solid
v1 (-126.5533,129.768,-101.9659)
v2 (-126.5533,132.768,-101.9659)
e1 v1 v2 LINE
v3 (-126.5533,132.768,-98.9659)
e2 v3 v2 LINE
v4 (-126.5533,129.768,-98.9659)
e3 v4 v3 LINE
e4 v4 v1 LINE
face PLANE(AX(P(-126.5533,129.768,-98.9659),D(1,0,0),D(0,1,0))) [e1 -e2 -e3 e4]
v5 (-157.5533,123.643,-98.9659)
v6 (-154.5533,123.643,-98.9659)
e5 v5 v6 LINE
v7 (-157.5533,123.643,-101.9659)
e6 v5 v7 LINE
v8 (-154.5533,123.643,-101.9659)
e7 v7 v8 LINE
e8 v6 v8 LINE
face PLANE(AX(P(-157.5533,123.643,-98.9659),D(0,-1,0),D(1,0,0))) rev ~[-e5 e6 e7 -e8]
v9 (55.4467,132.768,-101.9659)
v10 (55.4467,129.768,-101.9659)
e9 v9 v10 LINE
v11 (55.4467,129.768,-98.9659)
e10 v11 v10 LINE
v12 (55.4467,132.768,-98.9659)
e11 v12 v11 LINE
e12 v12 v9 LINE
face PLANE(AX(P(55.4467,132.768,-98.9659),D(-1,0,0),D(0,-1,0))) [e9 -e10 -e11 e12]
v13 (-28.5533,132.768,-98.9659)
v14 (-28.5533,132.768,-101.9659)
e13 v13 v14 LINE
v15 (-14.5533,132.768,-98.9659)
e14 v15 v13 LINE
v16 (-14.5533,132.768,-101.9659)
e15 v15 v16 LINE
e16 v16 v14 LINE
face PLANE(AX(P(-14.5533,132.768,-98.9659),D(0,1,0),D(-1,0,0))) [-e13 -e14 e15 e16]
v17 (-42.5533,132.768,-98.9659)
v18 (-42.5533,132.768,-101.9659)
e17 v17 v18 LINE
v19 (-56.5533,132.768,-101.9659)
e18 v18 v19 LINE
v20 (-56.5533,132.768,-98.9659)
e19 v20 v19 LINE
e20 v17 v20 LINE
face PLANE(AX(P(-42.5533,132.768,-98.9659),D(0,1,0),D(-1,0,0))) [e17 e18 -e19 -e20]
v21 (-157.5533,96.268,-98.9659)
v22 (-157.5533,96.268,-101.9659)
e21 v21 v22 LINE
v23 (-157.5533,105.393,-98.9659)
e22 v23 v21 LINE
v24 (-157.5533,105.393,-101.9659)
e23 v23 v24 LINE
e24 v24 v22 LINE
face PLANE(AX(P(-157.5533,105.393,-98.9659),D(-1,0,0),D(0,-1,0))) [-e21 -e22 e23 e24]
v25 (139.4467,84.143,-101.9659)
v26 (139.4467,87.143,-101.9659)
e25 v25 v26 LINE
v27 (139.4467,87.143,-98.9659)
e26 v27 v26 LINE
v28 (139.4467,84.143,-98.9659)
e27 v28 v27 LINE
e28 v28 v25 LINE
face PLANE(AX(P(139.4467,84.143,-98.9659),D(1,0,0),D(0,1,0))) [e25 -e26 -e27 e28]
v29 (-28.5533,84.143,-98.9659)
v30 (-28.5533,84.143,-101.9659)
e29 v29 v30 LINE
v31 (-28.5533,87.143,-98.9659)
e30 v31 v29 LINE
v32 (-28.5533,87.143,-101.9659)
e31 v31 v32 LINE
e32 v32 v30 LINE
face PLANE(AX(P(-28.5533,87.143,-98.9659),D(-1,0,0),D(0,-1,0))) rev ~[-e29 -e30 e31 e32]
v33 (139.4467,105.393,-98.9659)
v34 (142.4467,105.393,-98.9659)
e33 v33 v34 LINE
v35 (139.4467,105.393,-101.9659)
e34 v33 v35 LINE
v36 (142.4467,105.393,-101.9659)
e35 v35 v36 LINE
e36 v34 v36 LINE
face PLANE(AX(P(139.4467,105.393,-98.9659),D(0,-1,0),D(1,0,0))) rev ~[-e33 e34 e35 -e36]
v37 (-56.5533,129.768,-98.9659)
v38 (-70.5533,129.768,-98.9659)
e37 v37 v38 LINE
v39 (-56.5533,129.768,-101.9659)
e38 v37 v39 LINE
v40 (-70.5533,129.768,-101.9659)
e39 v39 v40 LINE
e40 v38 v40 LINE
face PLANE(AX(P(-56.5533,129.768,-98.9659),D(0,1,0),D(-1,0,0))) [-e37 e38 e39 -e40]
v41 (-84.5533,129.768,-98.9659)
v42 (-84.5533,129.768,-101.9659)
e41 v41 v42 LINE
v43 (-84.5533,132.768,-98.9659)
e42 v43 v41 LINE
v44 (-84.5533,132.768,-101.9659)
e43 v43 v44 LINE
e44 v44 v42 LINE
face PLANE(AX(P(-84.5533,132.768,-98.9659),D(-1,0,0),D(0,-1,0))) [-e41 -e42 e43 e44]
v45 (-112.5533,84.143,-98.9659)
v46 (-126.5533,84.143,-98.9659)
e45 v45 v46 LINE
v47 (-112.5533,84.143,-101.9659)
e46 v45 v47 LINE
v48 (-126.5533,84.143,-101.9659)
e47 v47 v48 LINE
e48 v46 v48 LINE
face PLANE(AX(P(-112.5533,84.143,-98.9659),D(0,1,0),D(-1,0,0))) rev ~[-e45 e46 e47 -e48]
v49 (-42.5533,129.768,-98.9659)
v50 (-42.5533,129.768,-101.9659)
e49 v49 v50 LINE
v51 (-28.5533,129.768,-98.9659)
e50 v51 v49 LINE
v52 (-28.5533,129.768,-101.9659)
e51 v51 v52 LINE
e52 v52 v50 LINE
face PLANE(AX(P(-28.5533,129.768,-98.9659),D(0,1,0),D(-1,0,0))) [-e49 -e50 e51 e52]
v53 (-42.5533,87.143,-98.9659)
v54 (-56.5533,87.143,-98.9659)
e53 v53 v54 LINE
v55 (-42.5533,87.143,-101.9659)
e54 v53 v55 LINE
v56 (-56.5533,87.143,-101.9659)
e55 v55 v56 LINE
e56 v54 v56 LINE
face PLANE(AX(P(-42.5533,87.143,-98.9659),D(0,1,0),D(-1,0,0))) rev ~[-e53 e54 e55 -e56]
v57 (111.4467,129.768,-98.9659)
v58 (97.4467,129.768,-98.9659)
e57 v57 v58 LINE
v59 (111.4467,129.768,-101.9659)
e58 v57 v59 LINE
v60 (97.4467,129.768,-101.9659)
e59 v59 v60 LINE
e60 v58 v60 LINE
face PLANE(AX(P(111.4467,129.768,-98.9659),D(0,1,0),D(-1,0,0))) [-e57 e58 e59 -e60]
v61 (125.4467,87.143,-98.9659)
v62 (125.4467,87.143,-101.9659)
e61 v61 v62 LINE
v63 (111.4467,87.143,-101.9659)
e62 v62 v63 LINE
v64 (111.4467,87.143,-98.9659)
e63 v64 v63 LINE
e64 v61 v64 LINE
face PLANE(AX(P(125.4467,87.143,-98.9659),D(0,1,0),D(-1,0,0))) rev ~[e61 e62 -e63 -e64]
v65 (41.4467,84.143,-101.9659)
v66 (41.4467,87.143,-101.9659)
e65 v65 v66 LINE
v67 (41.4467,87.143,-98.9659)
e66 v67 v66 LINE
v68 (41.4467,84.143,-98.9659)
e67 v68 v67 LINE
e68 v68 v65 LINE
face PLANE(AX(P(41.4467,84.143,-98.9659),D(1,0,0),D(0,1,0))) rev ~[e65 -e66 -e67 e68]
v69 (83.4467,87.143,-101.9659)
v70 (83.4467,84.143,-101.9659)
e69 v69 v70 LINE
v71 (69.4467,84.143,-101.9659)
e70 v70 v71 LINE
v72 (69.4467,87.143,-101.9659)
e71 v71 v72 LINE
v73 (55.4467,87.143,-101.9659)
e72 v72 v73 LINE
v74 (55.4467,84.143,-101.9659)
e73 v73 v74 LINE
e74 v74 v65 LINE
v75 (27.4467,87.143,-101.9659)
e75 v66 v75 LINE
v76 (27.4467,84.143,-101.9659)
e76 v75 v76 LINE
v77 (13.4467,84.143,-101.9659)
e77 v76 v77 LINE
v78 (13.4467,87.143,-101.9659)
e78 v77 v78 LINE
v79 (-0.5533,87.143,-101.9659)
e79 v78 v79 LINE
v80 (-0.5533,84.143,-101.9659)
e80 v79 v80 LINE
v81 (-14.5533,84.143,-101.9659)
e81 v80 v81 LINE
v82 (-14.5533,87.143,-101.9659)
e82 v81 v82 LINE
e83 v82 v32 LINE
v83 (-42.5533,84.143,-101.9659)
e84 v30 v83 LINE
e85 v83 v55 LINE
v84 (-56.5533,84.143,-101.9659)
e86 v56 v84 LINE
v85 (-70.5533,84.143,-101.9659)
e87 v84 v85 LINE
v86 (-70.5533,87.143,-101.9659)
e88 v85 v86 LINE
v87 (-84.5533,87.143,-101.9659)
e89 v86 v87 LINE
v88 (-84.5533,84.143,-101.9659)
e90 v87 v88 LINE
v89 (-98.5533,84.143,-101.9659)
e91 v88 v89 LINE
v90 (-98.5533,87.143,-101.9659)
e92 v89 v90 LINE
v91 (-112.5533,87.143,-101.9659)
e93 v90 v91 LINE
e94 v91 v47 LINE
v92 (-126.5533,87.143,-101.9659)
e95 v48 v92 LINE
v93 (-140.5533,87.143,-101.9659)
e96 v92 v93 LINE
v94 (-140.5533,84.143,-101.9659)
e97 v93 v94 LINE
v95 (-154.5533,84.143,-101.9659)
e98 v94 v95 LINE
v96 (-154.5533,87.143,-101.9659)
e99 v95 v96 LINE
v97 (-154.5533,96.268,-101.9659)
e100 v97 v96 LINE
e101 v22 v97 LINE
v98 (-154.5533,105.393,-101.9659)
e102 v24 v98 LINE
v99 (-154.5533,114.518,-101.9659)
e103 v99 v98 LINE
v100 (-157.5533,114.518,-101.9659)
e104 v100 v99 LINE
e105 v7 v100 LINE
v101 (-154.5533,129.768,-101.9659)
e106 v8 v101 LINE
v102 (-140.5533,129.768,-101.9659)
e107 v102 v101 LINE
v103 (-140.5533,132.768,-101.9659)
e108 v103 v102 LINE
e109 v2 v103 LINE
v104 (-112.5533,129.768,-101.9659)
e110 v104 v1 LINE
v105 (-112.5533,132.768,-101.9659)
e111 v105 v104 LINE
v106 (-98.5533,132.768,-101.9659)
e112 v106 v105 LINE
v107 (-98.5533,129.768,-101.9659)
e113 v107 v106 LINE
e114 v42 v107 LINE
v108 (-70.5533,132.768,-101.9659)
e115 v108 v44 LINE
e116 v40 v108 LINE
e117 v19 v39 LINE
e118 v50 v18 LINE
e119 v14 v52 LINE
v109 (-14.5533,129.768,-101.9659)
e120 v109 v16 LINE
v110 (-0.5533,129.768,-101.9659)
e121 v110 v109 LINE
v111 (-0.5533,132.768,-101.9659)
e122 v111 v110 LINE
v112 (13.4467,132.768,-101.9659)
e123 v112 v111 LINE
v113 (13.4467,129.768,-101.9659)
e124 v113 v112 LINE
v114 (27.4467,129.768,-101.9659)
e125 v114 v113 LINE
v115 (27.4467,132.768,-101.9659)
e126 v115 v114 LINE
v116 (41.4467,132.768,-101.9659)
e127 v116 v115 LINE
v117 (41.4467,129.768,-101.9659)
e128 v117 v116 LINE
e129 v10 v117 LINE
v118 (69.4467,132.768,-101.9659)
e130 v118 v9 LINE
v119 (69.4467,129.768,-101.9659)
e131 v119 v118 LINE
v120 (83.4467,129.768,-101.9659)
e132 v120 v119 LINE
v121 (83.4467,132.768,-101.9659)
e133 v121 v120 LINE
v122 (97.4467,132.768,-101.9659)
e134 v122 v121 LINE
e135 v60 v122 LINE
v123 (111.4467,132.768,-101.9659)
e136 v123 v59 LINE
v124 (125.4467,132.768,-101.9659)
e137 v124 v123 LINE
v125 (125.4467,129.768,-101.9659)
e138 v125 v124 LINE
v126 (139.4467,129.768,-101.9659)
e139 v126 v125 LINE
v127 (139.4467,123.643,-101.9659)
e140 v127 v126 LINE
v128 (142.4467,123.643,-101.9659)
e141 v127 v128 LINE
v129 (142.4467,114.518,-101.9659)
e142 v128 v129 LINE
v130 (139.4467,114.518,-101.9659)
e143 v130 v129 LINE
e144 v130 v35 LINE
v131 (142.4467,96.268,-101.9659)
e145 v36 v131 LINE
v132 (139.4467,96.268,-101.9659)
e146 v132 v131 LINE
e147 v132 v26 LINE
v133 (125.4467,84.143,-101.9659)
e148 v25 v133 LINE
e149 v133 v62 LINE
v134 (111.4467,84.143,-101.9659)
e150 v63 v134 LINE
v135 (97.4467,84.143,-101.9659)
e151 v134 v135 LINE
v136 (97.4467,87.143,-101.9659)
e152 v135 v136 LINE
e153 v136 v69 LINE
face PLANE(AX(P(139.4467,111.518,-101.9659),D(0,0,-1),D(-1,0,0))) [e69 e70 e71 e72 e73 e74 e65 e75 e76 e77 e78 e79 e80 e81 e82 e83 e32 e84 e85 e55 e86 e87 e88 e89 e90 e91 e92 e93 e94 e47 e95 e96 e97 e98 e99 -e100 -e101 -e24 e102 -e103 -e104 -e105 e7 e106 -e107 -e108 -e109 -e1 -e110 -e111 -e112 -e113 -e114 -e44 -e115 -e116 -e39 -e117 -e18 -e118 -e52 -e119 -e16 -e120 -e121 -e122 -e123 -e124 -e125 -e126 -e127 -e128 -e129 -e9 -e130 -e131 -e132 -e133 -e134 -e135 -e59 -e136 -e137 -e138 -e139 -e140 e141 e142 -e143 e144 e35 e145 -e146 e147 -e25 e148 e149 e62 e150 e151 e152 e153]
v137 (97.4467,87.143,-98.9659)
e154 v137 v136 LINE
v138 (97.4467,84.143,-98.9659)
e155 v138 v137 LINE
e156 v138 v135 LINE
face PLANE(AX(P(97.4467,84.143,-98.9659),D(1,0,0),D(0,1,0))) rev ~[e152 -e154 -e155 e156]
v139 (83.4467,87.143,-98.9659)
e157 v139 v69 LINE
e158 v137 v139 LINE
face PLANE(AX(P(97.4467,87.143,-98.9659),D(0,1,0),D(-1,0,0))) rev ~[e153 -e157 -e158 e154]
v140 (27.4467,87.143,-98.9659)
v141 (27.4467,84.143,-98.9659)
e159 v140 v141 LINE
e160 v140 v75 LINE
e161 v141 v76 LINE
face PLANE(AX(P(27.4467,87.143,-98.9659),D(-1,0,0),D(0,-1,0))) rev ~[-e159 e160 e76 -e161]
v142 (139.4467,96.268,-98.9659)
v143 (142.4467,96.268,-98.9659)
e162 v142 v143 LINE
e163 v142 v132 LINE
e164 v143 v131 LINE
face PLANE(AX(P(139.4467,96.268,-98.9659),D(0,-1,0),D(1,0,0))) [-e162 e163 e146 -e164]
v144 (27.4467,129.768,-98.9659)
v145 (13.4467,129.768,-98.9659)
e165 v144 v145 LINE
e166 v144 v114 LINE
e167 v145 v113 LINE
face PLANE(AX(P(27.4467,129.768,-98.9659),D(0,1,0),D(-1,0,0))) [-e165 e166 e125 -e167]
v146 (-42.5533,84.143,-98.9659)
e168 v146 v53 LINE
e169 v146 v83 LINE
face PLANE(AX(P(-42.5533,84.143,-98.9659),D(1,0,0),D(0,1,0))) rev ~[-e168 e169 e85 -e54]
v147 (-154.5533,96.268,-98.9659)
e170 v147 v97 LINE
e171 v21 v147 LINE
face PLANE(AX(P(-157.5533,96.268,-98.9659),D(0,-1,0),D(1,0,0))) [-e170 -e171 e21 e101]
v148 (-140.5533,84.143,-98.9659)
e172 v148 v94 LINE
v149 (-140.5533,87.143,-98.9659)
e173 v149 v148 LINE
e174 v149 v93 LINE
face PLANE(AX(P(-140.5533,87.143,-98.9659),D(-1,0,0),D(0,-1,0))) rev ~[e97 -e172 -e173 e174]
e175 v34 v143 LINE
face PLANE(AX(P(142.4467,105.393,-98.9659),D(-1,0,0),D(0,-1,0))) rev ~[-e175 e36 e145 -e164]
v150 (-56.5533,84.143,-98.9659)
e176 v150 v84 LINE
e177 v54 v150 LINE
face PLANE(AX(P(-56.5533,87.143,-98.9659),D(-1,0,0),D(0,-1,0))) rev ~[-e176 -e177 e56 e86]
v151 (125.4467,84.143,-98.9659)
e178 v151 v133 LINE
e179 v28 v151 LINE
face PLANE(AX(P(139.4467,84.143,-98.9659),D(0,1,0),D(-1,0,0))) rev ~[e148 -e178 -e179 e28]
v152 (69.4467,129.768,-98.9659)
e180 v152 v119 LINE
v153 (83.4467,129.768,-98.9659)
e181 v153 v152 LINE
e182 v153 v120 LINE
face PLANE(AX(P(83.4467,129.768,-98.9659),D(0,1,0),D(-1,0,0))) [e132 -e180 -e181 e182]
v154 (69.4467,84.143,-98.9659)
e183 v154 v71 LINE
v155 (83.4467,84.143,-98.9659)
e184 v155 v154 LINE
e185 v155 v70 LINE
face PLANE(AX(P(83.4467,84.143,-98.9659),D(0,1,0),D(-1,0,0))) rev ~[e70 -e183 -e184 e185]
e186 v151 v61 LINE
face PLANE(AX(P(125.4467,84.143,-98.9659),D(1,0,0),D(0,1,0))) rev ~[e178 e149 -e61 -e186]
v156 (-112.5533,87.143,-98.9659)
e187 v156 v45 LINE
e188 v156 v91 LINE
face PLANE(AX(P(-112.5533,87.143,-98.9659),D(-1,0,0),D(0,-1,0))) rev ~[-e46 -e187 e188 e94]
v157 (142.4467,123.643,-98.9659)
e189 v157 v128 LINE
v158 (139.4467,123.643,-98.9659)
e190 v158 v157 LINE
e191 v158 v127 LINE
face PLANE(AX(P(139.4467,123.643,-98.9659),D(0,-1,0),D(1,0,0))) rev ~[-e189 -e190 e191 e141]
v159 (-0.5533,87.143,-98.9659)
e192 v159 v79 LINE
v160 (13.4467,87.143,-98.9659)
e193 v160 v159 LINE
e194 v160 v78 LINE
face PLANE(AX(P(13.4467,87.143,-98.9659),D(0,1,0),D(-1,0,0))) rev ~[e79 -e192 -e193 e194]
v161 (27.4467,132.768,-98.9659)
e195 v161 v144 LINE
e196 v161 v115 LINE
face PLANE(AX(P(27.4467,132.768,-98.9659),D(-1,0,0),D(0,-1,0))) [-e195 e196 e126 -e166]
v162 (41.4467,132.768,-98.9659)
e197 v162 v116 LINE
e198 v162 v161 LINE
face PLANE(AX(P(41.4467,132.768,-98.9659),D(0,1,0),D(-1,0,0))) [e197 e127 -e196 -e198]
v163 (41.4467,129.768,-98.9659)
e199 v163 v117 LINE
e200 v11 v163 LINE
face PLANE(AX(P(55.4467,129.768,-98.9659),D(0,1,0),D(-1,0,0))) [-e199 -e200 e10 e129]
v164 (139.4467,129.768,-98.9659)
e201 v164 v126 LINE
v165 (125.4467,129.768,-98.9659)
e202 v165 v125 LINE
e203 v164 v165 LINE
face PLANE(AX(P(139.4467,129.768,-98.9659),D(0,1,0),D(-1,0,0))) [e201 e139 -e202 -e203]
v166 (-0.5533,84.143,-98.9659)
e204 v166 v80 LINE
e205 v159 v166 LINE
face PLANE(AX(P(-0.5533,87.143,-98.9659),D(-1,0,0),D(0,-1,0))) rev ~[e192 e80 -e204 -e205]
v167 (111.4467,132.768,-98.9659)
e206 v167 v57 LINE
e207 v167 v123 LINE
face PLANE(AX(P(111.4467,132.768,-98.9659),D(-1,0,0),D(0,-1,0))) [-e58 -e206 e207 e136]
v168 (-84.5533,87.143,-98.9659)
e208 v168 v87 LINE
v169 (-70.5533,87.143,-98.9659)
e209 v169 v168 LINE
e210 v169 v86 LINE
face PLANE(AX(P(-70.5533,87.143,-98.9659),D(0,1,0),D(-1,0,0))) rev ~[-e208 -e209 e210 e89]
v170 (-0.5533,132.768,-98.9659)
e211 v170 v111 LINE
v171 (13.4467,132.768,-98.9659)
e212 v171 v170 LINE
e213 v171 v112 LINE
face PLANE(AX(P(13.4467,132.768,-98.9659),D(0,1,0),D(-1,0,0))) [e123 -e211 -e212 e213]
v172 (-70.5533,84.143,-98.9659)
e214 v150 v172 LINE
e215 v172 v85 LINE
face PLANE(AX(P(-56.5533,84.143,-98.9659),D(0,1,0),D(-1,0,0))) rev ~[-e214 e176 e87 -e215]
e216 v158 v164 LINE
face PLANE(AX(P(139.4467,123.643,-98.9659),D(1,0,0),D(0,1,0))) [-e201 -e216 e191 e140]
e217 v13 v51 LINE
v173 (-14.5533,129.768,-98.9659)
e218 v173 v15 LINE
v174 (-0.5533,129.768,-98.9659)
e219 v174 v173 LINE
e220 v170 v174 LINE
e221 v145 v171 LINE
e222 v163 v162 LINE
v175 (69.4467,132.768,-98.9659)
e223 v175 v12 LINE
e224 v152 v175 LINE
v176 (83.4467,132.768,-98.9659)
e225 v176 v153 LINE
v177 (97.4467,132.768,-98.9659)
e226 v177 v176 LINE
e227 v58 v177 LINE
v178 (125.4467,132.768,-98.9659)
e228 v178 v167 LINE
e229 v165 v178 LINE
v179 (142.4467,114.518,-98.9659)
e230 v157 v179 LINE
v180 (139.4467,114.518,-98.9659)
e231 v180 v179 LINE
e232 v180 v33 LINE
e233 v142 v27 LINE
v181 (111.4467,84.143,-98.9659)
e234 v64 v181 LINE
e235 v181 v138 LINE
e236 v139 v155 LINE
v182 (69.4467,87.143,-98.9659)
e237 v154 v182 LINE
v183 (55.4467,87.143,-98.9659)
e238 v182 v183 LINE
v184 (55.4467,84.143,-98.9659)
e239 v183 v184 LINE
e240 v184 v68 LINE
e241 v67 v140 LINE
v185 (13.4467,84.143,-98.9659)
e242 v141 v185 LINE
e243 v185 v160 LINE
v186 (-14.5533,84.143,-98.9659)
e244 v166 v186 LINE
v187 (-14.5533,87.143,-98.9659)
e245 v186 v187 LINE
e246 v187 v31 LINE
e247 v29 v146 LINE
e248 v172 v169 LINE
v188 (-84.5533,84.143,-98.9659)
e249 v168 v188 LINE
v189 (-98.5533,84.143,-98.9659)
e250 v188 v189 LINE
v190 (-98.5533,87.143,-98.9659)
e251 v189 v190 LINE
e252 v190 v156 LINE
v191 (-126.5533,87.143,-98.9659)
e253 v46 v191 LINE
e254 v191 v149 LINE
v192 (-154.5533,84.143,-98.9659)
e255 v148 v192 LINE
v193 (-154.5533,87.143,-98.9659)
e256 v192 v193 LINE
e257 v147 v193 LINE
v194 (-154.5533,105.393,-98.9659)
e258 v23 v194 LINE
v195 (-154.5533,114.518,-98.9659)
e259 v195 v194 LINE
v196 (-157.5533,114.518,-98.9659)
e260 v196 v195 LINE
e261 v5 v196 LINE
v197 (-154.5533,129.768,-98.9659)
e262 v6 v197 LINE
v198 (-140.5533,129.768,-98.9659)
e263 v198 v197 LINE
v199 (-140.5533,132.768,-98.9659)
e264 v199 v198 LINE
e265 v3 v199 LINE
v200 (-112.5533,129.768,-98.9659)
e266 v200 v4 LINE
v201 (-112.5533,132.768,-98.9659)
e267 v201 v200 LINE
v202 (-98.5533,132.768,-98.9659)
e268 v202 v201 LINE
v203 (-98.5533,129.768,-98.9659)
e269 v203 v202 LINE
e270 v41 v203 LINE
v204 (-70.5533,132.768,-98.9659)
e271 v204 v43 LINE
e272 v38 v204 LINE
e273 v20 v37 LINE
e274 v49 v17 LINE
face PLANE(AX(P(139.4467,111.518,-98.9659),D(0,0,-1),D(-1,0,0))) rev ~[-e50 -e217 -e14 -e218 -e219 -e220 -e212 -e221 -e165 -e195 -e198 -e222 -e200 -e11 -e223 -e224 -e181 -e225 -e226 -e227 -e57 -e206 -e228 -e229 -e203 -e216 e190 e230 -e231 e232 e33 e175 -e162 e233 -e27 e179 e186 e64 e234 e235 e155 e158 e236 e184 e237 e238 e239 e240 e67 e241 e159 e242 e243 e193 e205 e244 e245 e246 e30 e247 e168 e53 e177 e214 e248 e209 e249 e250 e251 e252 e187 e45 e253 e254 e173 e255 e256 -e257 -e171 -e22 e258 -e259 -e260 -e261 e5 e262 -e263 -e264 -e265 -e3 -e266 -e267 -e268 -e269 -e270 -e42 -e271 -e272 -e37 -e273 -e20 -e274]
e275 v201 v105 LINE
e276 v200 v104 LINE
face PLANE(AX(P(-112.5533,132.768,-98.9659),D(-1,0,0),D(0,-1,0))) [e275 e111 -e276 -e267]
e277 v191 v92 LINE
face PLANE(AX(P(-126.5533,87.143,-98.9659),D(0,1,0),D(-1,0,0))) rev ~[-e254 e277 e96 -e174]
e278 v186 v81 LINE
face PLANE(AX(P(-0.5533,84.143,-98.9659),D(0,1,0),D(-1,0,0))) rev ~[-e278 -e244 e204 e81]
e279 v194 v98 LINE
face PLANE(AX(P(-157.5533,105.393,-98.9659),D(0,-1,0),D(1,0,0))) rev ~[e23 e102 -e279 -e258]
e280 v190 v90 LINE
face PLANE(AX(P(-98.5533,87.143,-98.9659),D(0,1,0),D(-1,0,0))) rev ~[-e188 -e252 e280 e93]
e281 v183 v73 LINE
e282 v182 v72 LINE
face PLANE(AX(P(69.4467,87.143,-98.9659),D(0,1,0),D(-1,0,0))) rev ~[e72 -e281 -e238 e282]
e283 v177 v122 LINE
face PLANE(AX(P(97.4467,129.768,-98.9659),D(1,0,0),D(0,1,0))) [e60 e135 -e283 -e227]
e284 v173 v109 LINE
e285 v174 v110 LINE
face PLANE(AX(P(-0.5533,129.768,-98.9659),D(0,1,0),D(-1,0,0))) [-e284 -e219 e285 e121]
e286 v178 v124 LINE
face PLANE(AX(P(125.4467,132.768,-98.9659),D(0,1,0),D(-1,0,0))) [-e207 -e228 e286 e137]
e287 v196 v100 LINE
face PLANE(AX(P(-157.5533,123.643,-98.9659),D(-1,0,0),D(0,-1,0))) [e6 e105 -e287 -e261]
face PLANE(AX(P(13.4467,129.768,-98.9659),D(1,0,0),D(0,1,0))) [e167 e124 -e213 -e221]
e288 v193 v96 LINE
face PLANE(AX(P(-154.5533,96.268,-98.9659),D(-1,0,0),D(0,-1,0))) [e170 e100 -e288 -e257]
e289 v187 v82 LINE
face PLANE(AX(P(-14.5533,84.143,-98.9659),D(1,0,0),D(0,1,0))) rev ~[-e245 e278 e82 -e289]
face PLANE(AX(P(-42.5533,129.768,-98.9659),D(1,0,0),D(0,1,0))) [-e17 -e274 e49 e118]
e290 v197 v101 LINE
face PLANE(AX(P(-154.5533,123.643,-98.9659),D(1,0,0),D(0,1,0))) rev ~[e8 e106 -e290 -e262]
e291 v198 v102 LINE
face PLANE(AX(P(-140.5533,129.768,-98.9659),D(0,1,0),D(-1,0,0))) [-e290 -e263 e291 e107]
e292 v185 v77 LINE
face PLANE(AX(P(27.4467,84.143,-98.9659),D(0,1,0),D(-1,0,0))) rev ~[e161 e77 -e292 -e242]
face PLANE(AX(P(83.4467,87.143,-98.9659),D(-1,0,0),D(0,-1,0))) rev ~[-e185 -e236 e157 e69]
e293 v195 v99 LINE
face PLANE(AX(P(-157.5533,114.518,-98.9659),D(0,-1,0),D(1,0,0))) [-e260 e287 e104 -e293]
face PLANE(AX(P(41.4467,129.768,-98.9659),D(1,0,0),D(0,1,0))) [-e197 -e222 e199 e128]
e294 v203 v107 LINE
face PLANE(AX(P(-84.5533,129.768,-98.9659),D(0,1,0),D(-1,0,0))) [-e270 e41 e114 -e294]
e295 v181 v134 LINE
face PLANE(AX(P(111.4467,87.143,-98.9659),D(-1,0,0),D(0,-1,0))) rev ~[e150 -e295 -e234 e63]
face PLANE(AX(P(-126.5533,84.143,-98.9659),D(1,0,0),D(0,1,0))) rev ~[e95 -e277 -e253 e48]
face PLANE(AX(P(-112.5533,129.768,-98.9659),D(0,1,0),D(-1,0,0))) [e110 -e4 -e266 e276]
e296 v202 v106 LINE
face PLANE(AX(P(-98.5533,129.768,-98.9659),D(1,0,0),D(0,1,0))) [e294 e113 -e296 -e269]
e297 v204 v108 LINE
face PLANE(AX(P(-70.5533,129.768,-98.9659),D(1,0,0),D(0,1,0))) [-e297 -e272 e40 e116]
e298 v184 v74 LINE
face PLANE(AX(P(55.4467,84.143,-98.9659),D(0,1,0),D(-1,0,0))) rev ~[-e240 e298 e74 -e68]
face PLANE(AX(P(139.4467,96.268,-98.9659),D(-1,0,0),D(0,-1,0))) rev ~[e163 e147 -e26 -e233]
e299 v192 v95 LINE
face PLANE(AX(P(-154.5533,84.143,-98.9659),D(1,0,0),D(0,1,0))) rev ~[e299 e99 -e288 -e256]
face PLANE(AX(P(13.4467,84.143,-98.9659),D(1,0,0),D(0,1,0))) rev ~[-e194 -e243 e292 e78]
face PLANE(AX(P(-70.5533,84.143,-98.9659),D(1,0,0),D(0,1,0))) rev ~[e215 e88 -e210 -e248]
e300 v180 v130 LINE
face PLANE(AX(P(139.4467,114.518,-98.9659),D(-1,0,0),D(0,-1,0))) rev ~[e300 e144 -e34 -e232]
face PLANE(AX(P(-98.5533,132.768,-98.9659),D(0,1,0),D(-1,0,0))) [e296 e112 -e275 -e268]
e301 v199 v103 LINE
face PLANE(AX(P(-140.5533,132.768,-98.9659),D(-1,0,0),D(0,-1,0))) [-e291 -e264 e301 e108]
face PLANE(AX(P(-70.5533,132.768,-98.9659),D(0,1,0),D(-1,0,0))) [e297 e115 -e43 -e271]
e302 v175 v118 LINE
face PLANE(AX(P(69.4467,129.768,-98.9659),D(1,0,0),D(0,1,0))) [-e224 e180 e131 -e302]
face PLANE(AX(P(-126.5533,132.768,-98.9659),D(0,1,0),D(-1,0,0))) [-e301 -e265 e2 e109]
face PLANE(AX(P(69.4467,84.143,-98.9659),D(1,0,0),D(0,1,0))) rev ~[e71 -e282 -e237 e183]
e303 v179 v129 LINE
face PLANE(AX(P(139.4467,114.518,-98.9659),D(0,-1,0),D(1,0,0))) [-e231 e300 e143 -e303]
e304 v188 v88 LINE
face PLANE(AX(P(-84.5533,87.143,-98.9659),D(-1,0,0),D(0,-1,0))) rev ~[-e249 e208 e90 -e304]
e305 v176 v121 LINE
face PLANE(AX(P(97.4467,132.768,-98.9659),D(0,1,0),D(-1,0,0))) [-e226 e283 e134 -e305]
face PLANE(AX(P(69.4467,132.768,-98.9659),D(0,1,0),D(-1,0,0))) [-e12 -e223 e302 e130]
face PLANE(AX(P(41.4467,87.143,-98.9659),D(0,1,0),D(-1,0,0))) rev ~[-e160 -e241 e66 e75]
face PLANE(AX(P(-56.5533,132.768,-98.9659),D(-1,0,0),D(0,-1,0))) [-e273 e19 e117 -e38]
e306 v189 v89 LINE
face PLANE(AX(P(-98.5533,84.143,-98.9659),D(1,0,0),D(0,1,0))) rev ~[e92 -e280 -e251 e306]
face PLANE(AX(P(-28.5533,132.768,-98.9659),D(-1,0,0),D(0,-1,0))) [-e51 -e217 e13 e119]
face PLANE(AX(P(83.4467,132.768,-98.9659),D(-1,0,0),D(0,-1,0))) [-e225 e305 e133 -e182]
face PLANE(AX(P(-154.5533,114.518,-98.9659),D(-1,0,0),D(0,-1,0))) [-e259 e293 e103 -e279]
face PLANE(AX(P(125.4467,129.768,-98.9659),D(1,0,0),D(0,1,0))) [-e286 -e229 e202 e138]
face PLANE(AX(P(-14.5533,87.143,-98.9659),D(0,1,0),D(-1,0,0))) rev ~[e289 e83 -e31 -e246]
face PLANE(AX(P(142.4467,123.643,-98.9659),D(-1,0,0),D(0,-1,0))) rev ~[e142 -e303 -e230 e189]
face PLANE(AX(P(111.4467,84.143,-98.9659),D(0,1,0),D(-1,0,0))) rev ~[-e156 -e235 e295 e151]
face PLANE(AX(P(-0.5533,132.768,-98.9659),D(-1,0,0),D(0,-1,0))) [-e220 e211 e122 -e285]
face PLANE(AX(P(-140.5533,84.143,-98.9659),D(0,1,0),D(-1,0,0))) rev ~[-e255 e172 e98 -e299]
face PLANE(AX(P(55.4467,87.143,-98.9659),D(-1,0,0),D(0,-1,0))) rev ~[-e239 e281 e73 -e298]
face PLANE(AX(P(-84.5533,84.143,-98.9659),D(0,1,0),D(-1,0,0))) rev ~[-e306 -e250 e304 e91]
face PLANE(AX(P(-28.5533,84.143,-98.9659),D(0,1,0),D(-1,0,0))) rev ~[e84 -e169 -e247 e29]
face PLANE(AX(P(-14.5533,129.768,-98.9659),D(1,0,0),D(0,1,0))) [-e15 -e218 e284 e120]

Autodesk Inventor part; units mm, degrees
ref_plane "YZ Plane" through (0, 0, 0) normal (1, 0, 0) x (0, 1, 0)
ref_plane "XZ Plane" through (0, 0, 0) normal (0, 1, 0) x (-1, 0, 0)
ref_plane "XY Plane" through (0, 0, 0) normal (0, 0, 1) x (1, 0, 0)
ref_plane "Work Plane1" through (139.4467, 111.518, -98.9659) normal (0, 0, -1) x (-1, 0, 0)
sketch "Sketch1" plane through (139.4467, 111.518, -98.9659) normal (0, 0, -1) x (-1, 0, 0)
  line L0 (0, -27.375) -> (14, -27.375)
  line L1 (14, -27.375) -> (14, -24.375)
  line L2 (14, -24.375) -> (28, -24.375)
  line L3 (28, -24.375) -> (28, -27.375)
  line L4 (56, -24.375) -> (56, -27.375)
  line L5 (42, -24.375) -> (56, -24.375)
  line L6 (42, -27.375) -> (42, -24.375)
  line L7 (28, -27.375) -> (42, -27.375)
  line L8 (84, -24.375) -> (84, -27.375)
  line L9 (70, -24.375) -> (84, -24.375)
  line L10 (70, -27.375) -> (70, -24.375)
  line L11 (56, -27.375) -> (70, -27.375)
  line L12 (112, -24.375) -> (112, -27.375)
  line L13 (98, -24.375) -> (112, -24.375)
  line L14 (98, -27.375) -> (98, -24.375)
  line L15 (84, -27.375) -> (98, -27.375)
  line L16 (140, -24.375) -> (140, -27.375)
  line L17 (126, -24.375) -> (140, -24.375)
  line L18 (126, -27.375) -> (126, -24.375)
  line L19 (112, -27.375) -> (126, -27.375)
  line L20 (168, -24.375) -> (168, -27.375)
  line L21 (154, -24.375) -> (168, -24.375)
  line L22 (154, -27.375) -> (154, -24.375)
  line L23 (140, -27.375) -> (154, -27.375)
  line L24 (196, -24.375) -> (196, -27.375)
  line L25 (182, -24.375) -> (196, -24.375)
  line L26 (182, -27.375) -> (182, -24.375)
  line L27 (168, -27.375) -> (182, -27.375)
  line L28 (224, -24.375) -> (224, -27.375)
  line L29 (210, -24.375) -> (224, -24.375)
  line L30 (210, -27.375) -> (210, -24.375)
  line L31 (196, -27.375) -> (210, -27.375)
  line L32 (252, -24.375) -> (252, -27.375)
  line L33 (238, -24.375) -> (252, -24.375)
  line L34 (238, -27.375) -> (238, -24.375)
  line L35 (224, -27.375) -> (238, -27.375)
  line L36 (280, -24.375) -> (280, -27.375)
  line L37 (266, -24.375) -> (280, -24.375)
  line L38 (266, -27.375) -> (266, -24.375)
  line L39 (252, -27.375) -> (266, -27.375)
  line L40 (280, -27.375) -> (294, -27.375)
  line L41 (0, 18.25) -> (14, 18.25)
  line L42 (14, 18.25) -> (14, 21.25)
  line L43 (14, 21.25) -> (28, 21.25)
  line L44 (28, 21.25) -> (28, 18.25)
  line L45 (56, 21.25) -> (56, 18.25)
  line L46 (42, 21.25) -> (56, 21.25)
  line L47 (42, 18.25) -> (42, 21.25)
  line L48 (28, 18.25) -> (42, 18.25)
  line L49 (84, 21.25) -> (84, 18.25)
  line L50 (70, 21.25) -> (84, 21.25)
  line L51 (70, 18.25) -> (70, 21.25)
  line L52 (56, 18.25) -> (70, 18.25)
  line L53 (112, 21.25) -> (112, 18.25)
  line L54 (98, 21.25) -> (112, 21.25)
  line L55 (98, 18.25) -> (98, 21.25)
  line L56 (84, 18.25) -> (98, 18.25)
  line L57 (140, 21.25) -> (140, 18.25)
  line L58 (126, 21.25) -> (140, 21.25)
  line L59 (126, 18.25) -> (126, 21.25)
  line L60 (112, 18.25) -> (126, 18.25)
  line L61 (168, 21.25) -> (168, 18.25)
  line L62 (154, 21.25) -> (168, 21.25)
  line L63 (154, 18.25) -> (154, 21.25)
  line L64 (140, 18.25) -> (154, 18.25)
  line L65 (196, 21.25) -> (196, 18.25)
  line L66 (182, 21.25) -> (196, 21.25)
  line L67 (182, 18.25) -> (182, 21.25)
  line L68 (168, 18.25) -> (182, 18.25)
  line L69 (224, 21.25) -> (224, 18.25)
  line L70 (210, 21.25) -> (224, 21.25)
  line L71 (210, 18.25) -> (210, 21.25)
  line L72 (196, 18.25) -> (210, 18.25)
  line L73 (252, 21.25) -> (252, 18.25)
  line L74 (238, 21.25) -> (252, 21.25)
  line L75 (238, 18.25) -> (238, 21.25)
  line L76 (224, 18.25) -> (238, 18.25)
  line L77 (280, 21.25) -> (280, 18.25)
  line L78 (266, 21.25) -> (280, 21.25)
  line L79 (266, 18.25) -> (266, 21.25)
  line L80 (252, 18.25) -> (266, 18.25)
  line L81 (280, 18.25) -> (294, 18.25)
  line L82 (297, 12.125) -> (297, 3)
  line L83 (297, 3) -> (294, 3)
  line L84 (294, 3) -> (294, -6.125)
  line L85 (297, -6.125) -> (294, -6.125)
  line L86 (297, -6.125) -> (297, -15.25)
  line L87 (297, -15.25) -> (294, -15.25)
  line L88 (294, -15.25) -> (294, -24.375)
  line L89 (297, 12.125) -> (294, 12.125)
  line L90 (0, -15.25) -> (0, -24.375)
  line L91 (0, -15.25) -> (-3, -15.25)
  line L92 (-3, -6.125) -> (-3, -15.25)
  line L93 (0, -6.125) -> (-3, -6.125)
  line L94 (0, 3) -> (0, -6.125)
  line L95 (0, 3) -> (-3, 3)
  line L96 (-3, 12.125) -> (-3, 3)
  line L97 (0, 12.125) -> (-3, 12.125)
  line L98 (0, -27.375) -> (0, -24.375)
  line L99 (0, 12.125) -> (0, 18.25)
  line L100 (294, -27.375) -> (294, -24.375)
  line L101 (294, 12.125) -> (294, 18.25)
  line L102 (294, 21.25) -> (-3, 21.25)
  point P0 (139.4467, -111.518)
  point P1 (28, -27.375)
  point P2 (56, -27.375)
  point P3 (168, -27.375)
  point P4 (224, -27.375)
  point P5 (252, 18.25)
  point P6 (224, 18.25)
  point P7 (196, 18.25)
  point P8 (168, 18.25)
  point P9 (140, 18.25)
  point P10 (112, 18.25)
  point P11 (84, 18.25)
  point P12 (56, 18.25)
  point P13 (28, 18.25)
  dimension "d0" = 3
  dimension "d1" = 14
  dimension "d4" = 28
  dimension "d13" = 3
  dimension "d14" = 14
  dimension "d15" = 28
extrude "Extrusion1" add sketch "Sketch1" along normal blind 3 contours L98 L90 L91 L92 L93 L94 L95 L96 L97 L99 L41 L42 L43 L44 L48 L47 L46 L45 L52 L51 L50 L49 L56 L55 L54 L53 L60 L59 L58 L57 L64 L63 L62 L61 L68 L67 L66 L65 L72 L71 L70 L69 L76 L75 L74 L73 L80 L79 L78 L77 L81 L101 L89 L82 L83 L84 L85 L86 L87 L88 L100 L40 L36 L37 L38 L39 L32 L33 L34 L35 L28 L29 L30 L31 L24 L25 L26 L27 L20 L21 L22 L23 L16 L17 L18 L19 L12 L13 L14 L15 L8 L9 L10 L11 L4 L5 L6 L7 L3 L2 L1 L0
properties part number "BackWall"
